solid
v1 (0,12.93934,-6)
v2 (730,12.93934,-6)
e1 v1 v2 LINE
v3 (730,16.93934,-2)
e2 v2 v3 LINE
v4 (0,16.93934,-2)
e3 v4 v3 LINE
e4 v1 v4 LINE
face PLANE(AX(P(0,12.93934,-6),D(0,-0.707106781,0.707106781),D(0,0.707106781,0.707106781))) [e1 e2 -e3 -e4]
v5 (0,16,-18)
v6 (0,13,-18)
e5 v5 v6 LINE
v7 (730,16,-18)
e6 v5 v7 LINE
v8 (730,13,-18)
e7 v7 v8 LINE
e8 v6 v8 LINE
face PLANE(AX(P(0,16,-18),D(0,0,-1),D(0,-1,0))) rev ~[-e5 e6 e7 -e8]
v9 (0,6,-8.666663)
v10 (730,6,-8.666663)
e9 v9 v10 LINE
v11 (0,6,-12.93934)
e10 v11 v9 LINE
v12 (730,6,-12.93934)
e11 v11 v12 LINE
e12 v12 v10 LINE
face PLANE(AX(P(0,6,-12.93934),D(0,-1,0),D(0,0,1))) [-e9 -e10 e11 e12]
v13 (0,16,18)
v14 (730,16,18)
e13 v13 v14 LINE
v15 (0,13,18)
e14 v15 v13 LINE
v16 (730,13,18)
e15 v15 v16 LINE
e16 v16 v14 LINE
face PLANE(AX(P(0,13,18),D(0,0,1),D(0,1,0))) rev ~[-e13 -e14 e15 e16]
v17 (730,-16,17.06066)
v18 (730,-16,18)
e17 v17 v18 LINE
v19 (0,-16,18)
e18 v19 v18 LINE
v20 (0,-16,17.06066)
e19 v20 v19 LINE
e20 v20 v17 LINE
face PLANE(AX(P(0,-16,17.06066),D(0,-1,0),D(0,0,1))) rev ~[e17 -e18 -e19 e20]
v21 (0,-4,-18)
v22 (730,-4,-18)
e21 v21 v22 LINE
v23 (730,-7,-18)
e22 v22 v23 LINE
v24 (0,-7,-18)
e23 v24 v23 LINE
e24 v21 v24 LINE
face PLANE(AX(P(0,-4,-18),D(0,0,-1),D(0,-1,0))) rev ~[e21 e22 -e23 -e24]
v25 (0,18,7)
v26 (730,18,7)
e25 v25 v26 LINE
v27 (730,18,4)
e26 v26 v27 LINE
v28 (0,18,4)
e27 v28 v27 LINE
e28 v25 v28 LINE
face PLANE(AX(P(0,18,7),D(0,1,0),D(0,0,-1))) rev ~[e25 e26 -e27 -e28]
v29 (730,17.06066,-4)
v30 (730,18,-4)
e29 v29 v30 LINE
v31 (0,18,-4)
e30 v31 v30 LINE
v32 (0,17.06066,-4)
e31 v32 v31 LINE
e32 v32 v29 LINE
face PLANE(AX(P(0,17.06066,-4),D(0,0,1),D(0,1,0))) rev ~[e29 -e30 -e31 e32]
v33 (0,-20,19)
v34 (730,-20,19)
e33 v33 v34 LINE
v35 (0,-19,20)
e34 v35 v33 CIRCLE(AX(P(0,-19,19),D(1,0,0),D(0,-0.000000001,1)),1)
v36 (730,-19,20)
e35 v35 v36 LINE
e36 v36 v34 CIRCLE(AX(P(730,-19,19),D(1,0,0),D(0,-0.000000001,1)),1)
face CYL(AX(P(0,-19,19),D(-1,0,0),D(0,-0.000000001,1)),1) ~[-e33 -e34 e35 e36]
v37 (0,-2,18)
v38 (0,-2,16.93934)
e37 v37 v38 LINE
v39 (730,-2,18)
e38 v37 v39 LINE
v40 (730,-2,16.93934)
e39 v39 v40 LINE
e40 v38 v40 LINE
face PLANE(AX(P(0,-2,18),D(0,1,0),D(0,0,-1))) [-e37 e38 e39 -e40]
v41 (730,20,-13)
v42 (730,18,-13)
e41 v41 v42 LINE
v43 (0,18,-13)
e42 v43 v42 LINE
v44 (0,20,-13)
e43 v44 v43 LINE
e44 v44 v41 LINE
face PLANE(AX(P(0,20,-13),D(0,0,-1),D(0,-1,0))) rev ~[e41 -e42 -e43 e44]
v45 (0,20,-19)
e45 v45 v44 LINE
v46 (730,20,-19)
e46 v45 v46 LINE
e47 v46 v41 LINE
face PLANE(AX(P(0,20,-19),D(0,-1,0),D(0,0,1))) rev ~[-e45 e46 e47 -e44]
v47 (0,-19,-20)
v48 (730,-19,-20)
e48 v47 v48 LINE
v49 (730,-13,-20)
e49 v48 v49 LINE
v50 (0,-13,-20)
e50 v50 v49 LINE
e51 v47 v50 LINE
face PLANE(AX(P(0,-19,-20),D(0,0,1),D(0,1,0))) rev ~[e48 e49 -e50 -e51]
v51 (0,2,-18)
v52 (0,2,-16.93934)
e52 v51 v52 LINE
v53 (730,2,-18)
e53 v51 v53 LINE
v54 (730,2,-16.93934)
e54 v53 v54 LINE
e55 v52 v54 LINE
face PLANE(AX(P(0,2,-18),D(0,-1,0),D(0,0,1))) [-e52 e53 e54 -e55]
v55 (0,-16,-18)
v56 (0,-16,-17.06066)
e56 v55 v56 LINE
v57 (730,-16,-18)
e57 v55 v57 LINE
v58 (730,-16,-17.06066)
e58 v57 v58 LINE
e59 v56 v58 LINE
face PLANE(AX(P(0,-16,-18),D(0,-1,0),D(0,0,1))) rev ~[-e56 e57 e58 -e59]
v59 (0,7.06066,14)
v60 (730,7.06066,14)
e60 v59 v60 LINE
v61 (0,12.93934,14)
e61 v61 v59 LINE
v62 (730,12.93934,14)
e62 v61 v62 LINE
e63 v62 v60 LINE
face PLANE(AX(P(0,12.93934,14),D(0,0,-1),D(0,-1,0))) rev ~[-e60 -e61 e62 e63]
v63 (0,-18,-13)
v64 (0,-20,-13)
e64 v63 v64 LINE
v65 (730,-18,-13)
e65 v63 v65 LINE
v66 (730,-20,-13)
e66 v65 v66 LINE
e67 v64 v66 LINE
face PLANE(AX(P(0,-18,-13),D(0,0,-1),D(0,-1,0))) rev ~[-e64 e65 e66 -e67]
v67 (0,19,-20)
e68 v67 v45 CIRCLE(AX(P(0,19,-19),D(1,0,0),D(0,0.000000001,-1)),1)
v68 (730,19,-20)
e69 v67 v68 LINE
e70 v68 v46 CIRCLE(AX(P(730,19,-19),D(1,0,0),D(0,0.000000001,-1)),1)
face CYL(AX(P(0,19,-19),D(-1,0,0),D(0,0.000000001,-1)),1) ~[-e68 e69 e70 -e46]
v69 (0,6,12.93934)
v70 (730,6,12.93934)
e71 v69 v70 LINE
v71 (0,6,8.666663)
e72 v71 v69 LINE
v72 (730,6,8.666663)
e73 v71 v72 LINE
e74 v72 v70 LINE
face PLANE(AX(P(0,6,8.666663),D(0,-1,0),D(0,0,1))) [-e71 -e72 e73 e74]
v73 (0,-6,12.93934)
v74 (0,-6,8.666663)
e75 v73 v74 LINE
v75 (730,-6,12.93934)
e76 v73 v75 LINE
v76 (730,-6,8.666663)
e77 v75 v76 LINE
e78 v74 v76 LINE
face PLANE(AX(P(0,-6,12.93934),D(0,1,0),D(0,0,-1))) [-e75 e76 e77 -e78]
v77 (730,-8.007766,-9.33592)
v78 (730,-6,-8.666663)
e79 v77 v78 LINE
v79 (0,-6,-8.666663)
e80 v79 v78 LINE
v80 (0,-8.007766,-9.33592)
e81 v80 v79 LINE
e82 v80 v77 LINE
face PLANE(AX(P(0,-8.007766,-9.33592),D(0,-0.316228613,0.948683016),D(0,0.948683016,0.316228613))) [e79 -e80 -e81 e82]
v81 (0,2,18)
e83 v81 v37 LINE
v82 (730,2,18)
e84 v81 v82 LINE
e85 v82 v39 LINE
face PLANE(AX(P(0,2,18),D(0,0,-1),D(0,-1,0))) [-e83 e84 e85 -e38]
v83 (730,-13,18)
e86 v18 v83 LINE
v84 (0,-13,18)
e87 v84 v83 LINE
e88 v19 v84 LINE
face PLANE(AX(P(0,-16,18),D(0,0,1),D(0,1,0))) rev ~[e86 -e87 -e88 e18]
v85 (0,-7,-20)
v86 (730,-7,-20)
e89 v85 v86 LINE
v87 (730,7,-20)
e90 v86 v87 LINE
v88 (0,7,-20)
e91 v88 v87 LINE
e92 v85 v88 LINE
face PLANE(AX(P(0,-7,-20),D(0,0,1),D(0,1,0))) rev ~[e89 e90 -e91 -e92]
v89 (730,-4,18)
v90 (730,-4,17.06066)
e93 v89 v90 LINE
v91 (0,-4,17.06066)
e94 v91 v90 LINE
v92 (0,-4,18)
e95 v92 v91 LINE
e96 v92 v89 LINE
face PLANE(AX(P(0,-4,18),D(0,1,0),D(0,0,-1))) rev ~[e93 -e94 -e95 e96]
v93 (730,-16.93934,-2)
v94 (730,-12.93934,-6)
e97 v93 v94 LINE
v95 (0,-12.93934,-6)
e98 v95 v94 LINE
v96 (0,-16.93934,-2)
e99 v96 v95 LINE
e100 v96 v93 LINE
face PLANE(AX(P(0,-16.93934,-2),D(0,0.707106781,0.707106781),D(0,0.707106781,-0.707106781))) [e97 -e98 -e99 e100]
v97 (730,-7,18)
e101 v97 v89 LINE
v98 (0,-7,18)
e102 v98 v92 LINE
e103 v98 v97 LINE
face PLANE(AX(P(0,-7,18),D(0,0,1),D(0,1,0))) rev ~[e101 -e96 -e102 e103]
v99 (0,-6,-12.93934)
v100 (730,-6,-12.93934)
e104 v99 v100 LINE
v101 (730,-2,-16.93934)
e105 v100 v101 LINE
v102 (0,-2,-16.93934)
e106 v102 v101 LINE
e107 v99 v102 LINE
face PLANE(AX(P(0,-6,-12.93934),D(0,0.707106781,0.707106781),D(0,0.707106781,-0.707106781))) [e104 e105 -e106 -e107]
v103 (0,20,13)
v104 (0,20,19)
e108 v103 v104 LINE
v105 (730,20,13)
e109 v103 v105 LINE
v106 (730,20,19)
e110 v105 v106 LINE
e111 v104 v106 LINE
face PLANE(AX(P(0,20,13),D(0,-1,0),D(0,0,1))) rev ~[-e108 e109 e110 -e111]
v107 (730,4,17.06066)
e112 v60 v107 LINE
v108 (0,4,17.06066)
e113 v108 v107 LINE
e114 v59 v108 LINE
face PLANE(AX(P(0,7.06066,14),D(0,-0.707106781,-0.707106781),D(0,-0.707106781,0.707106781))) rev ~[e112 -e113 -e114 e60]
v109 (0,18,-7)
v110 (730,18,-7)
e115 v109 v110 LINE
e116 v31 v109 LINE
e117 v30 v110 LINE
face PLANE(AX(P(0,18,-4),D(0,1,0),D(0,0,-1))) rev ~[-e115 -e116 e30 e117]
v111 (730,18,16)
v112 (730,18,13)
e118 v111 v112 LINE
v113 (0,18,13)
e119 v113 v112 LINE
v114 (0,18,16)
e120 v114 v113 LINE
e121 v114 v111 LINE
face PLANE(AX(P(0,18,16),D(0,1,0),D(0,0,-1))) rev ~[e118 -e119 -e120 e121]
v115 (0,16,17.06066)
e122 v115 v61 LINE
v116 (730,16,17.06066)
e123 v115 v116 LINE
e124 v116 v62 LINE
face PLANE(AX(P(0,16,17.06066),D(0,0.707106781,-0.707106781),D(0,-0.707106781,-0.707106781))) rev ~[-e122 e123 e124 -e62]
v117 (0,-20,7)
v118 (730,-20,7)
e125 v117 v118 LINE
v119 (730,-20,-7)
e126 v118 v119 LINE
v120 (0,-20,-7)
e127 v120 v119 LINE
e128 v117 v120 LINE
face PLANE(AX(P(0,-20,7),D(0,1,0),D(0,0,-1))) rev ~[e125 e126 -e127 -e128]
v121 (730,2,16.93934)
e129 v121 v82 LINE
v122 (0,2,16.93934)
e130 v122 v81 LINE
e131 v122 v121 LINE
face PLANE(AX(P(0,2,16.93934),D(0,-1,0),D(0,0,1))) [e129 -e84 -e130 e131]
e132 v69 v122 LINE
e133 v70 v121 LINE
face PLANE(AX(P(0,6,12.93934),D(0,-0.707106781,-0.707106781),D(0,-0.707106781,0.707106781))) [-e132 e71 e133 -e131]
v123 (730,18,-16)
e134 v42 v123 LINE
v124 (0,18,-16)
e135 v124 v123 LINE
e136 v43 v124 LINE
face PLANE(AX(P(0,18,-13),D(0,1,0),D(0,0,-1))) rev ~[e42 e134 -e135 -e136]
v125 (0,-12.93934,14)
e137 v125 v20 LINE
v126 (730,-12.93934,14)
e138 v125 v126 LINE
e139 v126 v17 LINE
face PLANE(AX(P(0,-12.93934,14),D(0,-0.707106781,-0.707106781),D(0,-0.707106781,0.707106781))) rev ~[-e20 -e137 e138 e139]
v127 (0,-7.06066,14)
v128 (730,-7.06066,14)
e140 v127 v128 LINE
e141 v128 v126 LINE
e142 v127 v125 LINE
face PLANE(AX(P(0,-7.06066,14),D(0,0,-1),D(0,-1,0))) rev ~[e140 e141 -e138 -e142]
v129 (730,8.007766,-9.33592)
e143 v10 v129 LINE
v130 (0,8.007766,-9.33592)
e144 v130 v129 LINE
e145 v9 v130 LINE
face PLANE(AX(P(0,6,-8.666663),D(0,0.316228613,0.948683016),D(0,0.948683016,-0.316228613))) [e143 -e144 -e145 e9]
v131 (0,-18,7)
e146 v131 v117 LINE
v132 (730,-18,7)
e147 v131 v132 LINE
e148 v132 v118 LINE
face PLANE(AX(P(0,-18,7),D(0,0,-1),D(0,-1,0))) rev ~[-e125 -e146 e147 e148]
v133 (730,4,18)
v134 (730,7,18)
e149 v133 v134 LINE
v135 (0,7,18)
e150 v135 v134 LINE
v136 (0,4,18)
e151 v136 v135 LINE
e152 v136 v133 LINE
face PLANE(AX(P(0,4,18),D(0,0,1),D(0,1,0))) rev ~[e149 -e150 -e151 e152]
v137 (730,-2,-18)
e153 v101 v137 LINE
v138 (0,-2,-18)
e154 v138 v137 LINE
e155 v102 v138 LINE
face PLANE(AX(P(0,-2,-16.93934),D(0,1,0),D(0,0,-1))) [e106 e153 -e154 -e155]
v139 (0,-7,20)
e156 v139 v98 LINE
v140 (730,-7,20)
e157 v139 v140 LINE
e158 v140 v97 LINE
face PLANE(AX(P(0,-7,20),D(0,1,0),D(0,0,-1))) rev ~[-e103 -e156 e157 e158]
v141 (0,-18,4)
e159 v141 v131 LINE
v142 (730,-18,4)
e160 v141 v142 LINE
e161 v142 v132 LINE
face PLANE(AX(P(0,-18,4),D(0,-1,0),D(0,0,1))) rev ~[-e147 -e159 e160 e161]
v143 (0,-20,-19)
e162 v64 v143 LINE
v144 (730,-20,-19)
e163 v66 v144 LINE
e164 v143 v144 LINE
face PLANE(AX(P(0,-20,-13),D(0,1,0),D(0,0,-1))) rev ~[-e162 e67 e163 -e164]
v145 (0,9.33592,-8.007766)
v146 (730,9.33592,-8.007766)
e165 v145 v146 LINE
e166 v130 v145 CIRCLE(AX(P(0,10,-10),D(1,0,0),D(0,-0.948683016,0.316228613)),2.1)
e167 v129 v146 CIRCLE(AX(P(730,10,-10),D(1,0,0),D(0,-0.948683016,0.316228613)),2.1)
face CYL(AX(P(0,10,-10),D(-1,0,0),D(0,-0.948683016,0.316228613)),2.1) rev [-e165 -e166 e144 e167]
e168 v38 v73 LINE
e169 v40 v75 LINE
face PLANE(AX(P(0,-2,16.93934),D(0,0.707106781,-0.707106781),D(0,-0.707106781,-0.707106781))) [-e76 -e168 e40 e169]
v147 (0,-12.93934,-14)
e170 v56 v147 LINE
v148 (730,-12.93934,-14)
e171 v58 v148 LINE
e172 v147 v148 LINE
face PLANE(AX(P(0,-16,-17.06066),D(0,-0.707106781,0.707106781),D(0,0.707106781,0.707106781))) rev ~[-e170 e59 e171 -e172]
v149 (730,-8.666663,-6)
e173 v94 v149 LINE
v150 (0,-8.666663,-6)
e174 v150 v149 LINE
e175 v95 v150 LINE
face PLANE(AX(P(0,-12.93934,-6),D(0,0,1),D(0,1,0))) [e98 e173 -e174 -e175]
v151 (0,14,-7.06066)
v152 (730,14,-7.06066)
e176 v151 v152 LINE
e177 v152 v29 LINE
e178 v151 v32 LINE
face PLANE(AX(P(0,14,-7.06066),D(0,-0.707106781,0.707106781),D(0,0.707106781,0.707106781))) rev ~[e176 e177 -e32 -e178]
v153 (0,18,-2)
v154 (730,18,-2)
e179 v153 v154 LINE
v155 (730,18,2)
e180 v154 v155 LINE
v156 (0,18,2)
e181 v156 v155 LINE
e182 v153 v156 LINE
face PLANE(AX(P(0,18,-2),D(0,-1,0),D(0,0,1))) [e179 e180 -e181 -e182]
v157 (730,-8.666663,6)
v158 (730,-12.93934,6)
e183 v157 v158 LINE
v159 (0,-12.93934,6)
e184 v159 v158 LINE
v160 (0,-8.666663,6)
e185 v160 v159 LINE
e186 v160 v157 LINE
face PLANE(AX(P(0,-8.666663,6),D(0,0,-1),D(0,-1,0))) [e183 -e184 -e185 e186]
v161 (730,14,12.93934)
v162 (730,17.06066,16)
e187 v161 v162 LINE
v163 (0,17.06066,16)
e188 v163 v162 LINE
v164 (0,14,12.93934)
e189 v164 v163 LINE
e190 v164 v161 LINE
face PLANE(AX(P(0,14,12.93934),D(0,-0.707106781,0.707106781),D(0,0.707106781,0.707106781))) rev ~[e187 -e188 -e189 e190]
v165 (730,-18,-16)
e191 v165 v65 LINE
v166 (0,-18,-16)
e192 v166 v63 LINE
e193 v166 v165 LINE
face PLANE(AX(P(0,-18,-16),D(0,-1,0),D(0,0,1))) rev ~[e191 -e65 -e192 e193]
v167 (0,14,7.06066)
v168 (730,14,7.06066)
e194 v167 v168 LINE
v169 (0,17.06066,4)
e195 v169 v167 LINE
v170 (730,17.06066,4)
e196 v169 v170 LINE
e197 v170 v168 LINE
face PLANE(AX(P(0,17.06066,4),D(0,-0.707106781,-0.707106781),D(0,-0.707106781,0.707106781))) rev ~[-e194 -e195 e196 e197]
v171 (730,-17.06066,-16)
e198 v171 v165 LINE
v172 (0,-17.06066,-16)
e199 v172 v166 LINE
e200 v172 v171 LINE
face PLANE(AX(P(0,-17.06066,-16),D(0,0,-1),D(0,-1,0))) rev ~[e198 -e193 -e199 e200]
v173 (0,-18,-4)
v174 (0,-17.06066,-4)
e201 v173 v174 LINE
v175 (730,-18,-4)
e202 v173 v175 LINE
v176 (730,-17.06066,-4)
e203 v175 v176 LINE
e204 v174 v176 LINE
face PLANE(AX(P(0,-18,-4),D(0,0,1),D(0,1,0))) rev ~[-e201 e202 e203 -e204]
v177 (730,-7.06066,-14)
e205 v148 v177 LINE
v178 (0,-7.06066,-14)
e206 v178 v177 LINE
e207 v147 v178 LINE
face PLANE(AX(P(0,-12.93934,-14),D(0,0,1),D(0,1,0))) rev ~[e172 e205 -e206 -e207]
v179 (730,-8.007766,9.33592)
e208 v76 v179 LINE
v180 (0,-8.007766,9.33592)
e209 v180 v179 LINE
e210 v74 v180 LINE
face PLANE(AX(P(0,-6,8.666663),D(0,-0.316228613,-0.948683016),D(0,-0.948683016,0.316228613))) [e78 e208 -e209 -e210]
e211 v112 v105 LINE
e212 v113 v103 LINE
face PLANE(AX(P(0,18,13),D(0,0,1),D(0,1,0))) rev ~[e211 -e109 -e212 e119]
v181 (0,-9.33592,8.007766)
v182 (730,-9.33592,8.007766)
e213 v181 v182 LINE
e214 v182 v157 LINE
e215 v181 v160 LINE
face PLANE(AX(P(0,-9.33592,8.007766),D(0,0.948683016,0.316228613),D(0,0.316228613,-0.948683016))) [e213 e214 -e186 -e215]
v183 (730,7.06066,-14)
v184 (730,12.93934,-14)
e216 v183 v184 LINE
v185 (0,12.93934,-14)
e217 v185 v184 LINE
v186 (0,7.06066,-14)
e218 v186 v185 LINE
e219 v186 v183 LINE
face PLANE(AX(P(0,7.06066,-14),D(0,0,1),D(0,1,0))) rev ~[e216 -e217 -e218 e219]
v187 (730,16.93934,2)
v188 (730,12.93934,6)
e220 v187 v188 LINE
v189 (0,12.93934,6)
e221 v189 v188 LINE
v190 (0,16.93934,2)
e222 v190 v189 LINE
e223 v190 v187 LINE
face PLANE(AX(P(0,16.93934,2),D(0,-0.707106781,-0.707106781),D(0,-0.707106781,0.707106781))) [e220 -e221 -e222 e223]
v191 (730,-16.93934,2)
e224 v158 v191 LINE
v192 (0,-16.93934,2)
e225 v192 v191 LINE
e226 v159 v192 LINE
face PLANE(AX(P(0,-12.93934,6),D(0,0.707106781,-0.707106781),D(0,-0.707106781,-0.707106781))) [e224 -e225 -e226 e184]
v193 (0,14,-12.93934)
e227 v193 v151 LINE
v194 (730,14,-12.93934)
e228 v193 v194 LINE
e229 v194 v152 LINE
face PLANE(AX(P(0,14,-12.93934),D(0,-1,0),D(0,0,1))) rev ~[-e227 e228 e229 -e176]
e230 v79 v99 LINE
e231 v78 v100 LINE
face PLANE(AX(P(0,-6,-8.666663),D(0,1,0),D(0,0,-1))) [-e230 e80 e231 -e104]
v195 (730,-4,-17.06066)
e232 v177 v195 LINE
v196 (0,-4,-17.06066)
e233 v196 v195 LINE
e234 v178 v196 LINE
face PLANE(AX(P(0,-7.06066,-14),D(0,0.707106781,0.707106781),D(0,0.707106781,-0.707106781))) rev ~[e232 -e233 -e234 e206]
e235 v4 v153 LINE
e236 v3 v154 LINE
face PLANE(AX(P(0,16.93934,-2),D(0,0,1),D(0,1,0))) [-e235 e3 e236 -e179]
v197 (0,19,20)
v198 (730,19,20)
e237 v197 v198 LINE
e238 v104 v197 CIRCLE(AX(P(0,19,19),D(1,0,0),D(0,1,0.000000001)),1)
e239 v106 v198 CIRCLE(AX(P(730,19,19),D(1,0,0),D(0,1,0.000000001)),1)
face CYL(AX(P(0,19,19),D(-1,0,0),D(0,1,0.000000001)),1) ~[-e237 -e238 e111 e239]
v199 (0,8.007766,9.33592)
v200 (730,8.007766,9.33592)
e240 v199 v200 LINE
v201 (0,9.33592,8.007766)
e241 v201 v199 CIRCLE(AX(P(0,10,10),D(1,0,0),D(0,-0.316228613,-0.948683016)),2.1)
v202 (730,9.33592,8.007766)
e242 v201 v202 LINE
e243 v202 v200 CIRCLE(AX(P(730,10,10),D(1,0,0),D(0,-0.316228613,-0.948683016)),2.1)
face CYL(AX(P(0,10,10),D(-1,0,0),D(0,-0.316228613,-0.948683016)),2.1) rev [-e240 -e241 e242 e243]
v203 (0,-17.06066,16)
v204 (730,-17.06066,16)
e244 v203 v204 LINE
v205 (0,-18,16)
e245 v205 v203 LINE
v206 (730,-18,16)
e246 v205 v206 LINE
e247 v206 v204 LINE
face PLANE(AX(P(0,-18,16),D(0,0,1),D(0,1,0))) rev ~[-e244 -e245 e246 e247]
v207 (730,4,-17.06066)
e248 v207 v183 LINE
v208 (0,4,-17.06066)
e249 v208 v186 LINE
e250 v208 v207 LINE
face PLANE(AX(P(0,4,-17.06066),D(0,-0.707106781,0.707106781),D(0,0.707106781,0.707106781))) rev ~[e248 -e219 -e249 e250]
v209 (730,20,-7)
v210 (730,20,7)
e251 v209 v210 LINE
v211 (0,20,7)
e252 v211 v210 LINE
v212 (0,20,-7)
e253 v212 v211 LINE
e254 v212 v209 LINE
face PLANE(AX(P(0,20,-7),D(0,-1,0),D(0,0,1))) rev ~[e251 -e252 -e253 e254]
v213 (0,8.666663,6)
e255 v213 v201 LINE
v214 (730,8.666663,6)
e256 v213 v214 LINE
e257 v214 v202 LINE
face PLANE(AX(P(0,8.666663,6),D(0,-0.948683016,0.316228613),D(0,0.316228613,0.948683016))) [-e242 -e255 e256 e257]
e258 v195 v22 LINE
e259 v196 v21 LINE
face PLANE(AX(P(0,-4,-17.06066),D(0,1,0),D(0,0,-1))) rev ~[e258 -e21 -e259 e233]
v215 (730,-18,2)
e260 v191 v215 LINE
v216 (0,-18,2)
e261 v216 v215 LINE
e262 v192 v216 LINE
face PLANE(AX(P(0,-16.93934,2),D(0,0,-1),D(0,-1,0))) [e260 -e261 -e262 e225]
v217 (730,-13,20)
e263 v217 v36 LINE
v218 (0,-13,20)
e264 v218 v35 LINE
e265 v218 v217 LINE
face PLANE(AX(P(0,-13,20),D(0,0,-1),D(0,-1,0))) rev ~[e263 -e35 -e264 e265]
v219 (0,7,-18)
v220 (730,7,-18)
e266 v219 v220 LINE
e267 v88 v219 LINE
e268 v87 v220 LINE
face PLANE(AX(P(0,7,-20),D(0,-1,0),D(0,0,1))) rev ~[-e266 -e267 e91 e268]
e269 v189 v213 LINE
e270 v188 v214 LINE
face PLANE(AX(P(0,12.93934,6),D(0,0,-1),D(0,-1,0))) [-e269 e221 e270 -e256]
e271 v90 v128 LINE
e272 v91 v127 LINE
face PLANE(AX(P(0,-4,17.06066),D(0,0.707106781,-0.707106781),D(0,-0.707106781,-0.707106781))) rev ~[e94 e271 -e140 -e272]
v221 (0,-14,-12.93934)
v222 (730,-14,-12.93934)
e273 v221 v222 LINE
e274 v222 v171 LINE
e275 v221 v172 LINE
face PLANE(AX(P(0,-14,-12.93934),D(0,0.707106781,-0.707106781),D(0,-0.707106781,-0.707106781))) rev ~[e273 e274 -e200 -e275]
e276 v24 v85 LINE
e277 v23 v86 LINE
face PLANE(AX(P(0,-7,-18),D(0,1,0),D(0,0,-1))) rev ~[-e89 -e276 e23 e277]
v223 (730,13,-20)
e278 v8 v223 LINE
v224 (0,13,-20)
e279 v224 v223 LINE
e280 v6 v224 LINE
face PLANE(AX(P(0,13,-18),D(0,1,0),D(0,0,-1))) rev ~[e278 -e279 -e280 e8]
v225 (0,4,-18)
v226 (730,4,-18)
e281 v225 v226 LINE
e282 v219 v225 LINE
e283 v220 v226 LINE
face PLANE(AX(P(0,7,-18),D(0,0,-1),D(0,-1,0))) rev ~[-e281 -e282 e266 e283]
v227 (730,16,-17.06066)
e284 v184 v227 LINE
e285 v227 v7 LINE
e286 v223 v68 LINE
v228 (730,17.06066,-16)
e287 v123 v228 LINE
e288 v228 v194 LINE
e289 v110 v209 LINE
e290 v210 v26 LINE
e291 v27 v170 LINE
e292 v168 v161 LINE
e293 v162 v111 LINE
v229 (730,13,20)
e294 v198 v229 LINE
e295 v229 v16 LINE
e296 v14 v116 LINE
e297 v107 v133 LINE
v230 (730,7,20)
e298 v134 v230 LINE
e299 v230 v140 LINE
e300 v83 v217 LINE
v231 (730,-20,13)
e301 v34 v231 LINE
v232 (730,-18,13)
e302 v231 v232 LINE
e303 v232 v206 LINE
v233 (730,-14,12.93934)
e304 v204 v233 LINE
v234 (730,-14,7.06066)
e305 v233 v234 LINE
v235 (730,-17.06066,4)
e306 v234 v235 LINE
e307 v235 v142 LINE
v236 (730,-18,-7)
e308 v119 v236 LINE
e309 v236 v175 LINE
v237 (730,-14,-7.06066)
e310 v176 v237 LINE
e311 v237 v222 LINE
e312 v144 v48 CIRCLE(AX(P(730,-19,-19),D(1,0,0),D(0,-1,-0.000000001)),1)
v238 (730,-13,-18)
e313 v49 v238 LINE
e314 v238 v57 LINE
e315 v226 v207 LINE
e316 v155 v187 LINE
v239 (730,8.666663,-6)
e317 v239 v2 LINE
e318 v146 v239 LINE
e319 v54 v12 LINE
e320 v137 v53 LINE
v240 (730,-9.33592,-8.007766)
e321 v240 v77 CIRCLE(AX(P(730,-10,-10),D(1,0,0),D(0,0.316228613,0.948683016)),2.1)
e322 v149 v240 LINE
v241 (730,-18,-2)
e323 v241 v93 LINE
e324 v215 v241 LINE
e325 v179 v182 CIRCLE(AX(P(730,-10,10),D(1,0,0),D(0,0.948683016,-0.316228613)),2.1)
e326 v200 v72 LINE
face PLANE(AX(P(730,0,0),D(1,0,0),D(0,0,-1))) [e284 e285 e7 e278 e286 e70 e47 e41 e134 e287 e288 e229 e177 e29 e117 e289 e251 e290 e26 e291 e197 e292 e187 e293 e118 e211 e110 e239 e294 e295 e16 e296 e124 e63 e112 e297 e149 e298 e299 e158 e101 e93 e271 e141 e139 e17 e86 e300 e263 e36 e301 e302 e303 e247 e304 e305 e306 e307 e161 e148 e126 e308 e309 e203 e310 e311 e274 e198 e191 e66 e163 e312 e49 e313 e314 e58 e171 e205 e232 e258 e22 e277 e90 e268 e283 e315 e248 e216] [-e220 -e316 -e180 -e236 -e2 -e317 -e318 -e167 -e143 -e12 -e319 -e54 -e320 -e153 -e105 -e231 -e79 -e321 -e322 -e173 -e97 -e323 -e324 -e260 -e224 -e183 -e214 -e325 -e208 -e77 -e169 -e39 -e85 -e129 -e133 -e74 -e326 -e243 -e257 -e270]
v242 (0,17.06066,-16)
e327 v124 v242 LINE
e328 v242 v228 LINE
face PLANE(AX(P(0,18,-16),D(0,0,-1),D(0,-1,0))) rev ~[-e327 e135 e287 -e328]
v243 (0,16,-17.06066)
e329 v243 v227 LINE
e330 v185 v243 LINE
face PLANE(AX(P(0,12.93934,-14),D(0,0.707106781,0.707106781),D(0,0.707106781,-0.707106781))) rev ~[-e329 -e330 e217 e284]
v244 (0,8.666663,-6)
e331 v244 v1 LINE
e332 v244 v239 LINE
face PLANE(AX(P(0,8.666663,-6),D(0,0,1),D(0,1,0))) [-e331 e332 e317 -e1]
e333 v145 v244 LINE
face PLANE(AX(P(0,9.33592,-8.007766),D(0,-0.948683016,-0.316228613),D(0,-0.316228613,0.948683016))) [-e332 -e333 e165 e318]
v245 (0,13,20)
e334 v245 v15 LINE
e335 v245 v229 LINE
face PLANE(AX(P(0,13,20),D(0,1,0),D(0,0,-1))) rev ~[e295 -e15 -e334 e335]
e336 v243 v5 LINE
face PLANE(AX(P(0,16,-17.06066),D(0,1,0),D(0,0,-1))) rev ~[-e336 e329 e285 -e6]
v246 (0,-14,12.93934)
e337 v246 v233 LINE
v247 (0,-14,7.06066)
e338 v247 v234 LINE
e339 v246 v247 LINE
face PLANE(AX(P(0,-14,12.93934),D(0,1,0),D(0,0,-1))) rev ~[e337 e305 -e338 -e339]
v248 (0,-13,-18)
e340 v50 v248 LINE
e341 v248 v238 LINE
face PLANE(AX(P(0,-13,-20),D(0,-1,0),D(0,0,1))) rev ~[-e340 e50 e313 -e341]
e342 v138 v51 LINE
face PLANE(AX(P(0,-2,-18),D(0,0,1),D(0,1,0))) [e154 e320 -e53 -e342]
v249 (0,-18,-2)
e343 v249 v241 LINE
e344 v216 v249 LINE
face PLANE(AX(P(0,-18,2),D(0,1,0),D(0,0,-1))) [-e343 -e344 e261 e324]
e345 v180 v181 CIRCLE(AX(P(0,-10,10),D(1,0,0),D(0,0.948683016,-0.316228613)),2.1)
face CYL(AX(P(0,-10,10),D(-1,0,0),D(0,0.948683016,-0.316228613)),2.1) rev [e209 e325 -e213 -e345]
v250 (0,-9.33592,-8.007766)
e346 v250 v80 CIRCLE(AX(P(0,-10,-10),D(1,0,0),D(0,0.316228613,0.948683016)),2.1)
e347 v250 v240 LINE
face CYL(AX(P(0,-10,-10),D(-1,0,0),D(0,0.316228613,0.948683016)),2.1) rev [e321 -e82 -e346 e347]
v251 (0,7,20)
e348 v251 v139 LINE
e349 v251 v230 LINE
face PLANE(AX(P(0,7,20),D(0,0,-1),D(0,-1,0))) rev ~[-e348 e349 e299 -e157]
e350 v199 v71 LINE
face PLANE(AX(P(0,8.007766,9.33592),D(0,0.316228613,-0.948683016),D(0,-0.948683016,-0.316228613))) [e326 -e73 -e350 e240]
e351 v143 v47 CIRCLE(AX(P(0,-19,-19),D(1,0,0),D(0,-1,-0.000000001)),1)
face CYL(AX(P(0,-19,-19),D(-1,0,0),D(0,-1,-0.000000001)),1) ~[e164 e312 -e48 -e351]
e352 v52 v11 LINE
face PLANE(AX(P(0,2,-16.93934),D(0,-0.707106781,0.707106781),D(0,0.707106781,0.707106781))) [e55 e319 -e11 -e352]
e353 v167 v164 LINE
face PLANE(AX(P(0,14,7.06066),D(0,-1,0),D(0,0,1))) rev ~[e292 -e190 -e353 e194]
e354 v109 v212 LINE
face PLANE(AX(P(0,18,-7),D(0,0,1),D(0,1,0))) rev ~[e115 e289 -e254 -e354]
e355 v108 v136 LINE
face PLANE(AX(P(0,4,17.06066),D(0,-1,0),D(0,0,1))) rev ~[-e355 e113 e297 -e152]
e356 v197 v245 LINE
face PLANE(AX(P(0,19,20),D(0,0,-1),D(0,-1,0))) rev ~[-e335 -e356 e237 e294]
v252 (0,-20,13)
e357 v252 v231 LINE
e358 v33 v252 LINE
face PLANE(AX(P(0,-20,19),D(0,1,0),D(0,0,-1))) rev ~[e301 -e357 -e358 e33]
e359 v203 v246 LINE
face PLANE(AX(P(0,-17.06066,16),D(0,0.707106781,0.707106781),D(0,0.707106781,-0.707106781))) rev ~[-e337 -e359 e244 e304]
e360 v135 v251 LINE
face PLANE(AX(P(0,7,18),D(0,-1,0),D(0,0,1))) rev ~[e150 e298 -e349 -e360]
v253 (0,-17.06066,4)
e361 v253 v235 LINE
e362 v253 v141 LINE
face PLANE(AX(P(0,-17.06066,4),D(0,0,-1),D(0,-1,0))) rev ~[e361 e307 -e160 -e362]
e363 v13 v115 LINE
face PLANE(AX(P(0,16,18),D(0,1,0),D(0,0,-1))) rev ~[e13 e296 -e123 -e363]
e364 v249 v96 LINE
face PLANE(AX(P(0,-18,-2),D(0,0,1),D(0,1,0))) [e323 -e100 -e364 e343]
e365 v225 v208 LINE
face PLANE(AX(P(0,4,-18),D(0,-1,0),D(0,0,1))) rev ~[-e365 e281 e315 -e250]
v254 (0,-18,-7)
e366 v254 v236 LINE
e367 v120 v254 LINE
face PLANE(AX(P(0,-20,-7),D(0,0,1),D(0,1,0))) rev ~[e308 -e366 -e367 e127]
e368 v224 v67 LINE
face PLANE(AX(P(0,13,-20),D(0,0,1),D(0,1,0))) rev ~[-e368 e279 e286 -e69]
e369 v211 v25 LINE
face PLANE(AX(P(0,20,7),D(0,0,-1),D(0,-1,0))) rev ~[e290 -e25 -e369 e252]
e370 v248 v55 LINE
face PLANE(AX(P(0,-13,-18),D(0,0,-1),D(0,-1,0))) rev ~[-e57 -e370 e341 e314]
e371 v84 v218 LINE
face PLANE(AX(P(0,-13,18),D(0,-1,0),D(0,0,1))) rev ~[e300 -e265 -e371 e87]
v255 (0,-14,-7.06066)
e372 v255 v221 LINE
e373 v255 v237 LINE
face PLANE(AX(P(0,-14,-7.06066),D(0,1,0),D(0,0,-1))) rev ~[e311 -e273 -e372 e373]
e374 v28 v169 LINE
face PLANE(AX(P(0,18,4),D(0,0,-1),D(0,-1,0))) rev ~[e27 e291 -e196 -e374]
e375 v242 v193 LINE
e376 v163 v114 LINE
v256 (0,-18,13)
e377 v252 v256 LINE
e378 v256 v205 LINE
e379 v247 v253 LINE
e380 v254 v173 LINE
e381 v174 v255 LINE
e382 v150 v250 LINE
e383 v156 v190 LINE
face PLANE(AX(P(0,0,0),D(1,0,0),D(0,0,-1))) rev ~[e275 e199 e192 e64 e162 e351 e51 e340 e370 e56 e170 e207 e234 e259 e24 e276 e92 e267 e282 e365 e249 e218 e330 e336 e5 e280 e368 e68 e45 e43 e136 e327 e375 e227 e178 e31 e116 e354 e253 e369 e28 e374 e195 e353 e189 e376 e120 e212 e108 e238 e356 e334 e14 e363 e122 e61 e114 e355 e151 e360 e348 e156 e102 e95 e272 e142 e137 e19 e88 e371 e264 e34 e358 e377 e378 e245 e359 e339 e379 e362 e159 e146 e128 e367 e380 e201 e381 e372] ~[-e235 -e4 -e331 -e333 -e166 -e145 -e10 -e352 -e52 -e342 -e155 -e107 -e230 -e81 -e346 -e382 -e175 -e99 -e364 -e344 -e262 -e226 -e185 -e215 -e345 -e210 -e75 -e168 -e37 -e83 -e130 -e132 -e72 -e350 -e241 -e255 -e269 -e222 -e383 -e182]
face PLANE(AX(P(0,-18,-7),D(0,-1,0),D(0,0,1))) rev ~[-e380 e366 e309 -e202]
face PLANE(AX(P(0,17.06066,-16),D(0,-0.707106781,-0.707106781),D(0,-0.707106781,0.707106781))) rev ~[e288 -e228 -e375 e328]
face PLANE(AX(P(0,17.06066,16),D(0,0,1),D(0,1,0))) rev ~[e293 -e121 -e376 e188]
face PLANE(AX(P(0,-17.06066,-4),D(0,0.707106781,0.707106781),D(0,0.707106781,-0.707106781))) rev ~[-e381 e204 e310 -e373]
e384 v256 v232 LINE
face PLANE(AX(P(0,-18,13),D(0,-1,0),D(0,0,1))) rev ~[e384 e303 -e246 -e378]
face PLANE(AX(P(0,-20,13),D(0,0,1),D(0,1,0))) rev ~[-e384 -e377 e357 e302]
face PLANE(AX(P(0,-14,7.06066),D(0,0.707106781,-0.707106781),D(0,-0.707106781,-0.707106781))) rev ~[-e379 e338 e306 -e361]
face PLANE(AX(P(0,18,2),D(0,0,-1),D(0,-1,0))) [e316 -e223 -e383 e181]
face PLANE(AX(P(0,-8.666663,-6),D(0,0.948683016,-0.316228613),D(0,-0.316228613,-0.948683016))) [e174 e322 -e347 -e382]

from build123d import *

# Parameters (mm, degrees)
BOSS_EXTRUDE1_DEPTH = 730


with BuildPart() as part:
    # Sketch1 → Boss-Extrude1 (new body)
    with BuildSketch(Plane(origin=(0, 0, 0), x_dir=(0, 0, -1), z_dir=(1, 0, 0))):
        with BuildLine():
            Line((-20, 19), (-20, 13))
            Line((-20, 13), (-18, 13))
            Line((-18, 13), (-18, 16))
            Line((-18, 16), (-17.060660172, 16))
            Line((-17.060660172, 16), (-14, 12.939339828))
            Line((-14, 12.939339828), (-14, 7.060660172))
            Line((-14, 7.060660172), (-17.060660172, 4))
            Line((-17.060660172, 4), (-18, 4))
            Line((-18, 4), (-18, 7))
            Line((-18, 7), (-20, 7))
            Line((-20, 7), (-20, -7))
            Line((-20, -7), (-18, -7))
            Line((-18, -7), (-18, -4))
            Line((-18, -4), (-17.060660172, -4))
            Line((-17.060660172, -4), (-14, -7.060660172))
            Line((-14, -7.060660172), (-14, -12.939339828))
            Line((-14, -12.939339828), (-17.060660172, -16))
            Line((-17.060660172, -16), (-18, -16))
            Line((-18, -16), (-18, -13))
            Line((-18, -13), (-20, -13))
            Line((-20, -13), (-20, -19))
            ThreePointArc((-20, -19), (-19.707106781, -19.707106781), (-19, -20))
            Line((-19, -20), (-13, -20))
            Line((-13, -20), (-13, -18))
            Line((-13, -18), (-16, -18))
            Line((-16, -18), (-16, -17.060660172))
            Line((-16, -17.060660172), (-12.939339828, -14))
            Line((-12.939339828, -14), (-7.060660172, -14))
            Line((-7.060660172, -14), (-4, -17.060660172))
            Line((-4, -17.060660172), (-4, -18))
            Line((-4, -18), (-7, -18))
            Line((-7, -18), (-7, -20))
            Line((-7, -20), (7, -20))
            Line((7, -20), (7, -18))
            Line((7, -18), (4, -18))
            Line((4, -18), (4, -17.060660172))
            Line((4, -17.060660172), (7.060660172, -14))
            Line((7.060660172, -14), (12.939339828, -14))
            Line((12.939339828, -14), (16, -17.060660172))
            Line((16, -17.060660172), (16, -18))
            Line((16, -18), (13, -18))
            Line((13, -18), (13, -20))
            Line((13, -20), (19, -20))
            ThreePointArc((19, -20), (19.707106781, -19.707106781), (20, -19))
            Line((20, -19), (20, -13))
            Line((20, -13), (18, -13))
            Line((18, -13), (18, -16))
            Line((18, -16), (17.060660172, -16))
            Line((17.060660172, -16), (14, -12.939339828))
            Line((14, -12.939339828), (14, -7.060660172))
            Line((14, -7.060660172), (17.060660172, -4))
            Line((17.060660172, -4), (18, -4))
            Line((18, -4), (18, -7))
            Line((18, -7), (20, -7))
            Line((20, -7), (20, 7))
            Line((20, 7), (18, 7))
            Line((18, 7), (18, 4))
            Line((18, 4), (17.060660172, 4))
            Line((17.060660172, 4), (14, 7.060660172))
            Line((14, 7.060660172), (14, 12.939339828))
            Line((14, 12.939339828), (17.060660172, 16))
            Line((17.060660172, 16), (18, 16))
            Line((18, 16), (18, 13))
            Line((18, 13), (20, 13))
            Line((20, 13), (20, 19))
            ThreePointArc((20, 19), (19.707106781, 19.707106781), (19, 20))
            Line((19, 20), (13, 20))
            Line((13, 20), (13, 18))
            Line((13, 18), (16, 18))
            Line((16, 18), (16, 17.060660172))
            Line((16, 17.060660172), (12.939339828, 14))
            Line((12.939339828, 14), (7.060660172, 14))
            Line((7.060660172, 14), (4, 17.060660172))
            Line((4, 17.060660172), (4, 18))
            Line((4, 18), (7, 18))
            Line((7, 18), (7, 20))
            Line((7, 20), (-7, 20))
            Line((-7, 20), (-7, 18))
            Line((-7, 18), (-4, 18))
            Line((-4, 18), (-4, 17.060660172))
            Line((-4, 17.060660172), (-7.060660172, 14))
            Line((-7.060660172, 14), (-12.939339828, 14))
            Line((-12.939339828, 14), (-16, 17.060660172))
            Line((-16, 17.060660172), (-16, 18))
            Line((-16, 18), (-13, 18))
            Line((-13, 18), (-13, 20))
            Line((-13, 20), (-19, 20))
            ThreePointArc((-19, 20), (-19.707106781, 19.707106781), (-20, 19))
        make_face()
        with BuildLine():
            Line((-16.939339828, 2), (-18, 2))
            Line((-18, 2), (-18, -2))
            Line((-18, -2), (-16.939339828, -2))
            Line((-16.939339828, -2), (-12.939339828, -6))
            Line((-12.939339828, -6), (-8.666662697, -6))
            Line((-8.666662697, -6), (-9.335919912, -8.007765667))
            ThreePointArc((-9.335919912, -8.007765667), (-11.48492424, -11.48492424), (-8.007765667, -9.335919912))
            Line((-8.007765667, -9.335919912), (-6, -8.666662697))
            Line((-6, -8.666662697), (-6, -12.939339828))
            Line((-6, -12.939339828), (-2, -16.939339828))
            Line((-2, -16.939339828), (-2, -18))
            Line((-2, -18), (2, -18))
            Line((2, -18), (2, -16.939339828))
            Line((2, -16.939339828), (6, -12.939339828))
            Line((6, -12.939339828), (6, -8.666662697))
            Line((6, -8.666662697), (8.007765667, -9.335919912))
            ThreePointArc((8.007765667, -9.335919912), (11.48492424, -11.48492424), (9.335919912, -8.007765667))
            Line((9.335919912, -8.007765667), (8.666662697, -6))
            Line((8.666662697, -6), (12.939339828, -6))
            Line((12.939339828, -6), (16.939339828, -2))
            Line((16.939339828, -2), (18, -2))
            Line((18, -2), (18, 2))
            Line((18, 2), (16.939339828, 2))
            Line((16.939339828, 2), (12.939339828, 6))
            Line((12.939339828, 6), (8.666662697, 6))
            Line((8.666662697, 6), (9.335919912, 8.007765667))
            ThreePointArc((9.335919912, 8.007765667), (11.48492424, 11.48492424), (8.007765667, 9.335919912))
            Line((8.007765667, 9.335919912), (6, 8.666662697))
            Line((6, 8.666662697), (6, 12.939339828))
            Line((6, 12.939339828), (2, 16.939339828))
            Line((2, 16.939339828), (2, 18))
            Line((2, 18), (-2, 18))
            Line((-2, 18), (-2, 16.939339828))
            Line((-2, 16.939339828), (-6, 12.939339828))
            Line((-6, 12.939339828), (-6, 8.666662697))
            Line((-6, 8.666662697), (-8.007765667, 9.335919912))
            ThreePointArc((-8.007765667, 9.335919912), (-11.48492424, 11.48492424), (-9.335919912, 8.007765667))
            Line((-9.335919912, 8.007765667), (-8.666662697, 6))
            Line((-8.666662697, 6), (-12.939339828, 6))
            Line((-12.939339828, 6), (-16.939339828, 2))
        make_face(mode=Mode.SUBTRACT)
    extrude(amount=BOSS_EXTRUDE1_DEPTH)


solid = part.part
